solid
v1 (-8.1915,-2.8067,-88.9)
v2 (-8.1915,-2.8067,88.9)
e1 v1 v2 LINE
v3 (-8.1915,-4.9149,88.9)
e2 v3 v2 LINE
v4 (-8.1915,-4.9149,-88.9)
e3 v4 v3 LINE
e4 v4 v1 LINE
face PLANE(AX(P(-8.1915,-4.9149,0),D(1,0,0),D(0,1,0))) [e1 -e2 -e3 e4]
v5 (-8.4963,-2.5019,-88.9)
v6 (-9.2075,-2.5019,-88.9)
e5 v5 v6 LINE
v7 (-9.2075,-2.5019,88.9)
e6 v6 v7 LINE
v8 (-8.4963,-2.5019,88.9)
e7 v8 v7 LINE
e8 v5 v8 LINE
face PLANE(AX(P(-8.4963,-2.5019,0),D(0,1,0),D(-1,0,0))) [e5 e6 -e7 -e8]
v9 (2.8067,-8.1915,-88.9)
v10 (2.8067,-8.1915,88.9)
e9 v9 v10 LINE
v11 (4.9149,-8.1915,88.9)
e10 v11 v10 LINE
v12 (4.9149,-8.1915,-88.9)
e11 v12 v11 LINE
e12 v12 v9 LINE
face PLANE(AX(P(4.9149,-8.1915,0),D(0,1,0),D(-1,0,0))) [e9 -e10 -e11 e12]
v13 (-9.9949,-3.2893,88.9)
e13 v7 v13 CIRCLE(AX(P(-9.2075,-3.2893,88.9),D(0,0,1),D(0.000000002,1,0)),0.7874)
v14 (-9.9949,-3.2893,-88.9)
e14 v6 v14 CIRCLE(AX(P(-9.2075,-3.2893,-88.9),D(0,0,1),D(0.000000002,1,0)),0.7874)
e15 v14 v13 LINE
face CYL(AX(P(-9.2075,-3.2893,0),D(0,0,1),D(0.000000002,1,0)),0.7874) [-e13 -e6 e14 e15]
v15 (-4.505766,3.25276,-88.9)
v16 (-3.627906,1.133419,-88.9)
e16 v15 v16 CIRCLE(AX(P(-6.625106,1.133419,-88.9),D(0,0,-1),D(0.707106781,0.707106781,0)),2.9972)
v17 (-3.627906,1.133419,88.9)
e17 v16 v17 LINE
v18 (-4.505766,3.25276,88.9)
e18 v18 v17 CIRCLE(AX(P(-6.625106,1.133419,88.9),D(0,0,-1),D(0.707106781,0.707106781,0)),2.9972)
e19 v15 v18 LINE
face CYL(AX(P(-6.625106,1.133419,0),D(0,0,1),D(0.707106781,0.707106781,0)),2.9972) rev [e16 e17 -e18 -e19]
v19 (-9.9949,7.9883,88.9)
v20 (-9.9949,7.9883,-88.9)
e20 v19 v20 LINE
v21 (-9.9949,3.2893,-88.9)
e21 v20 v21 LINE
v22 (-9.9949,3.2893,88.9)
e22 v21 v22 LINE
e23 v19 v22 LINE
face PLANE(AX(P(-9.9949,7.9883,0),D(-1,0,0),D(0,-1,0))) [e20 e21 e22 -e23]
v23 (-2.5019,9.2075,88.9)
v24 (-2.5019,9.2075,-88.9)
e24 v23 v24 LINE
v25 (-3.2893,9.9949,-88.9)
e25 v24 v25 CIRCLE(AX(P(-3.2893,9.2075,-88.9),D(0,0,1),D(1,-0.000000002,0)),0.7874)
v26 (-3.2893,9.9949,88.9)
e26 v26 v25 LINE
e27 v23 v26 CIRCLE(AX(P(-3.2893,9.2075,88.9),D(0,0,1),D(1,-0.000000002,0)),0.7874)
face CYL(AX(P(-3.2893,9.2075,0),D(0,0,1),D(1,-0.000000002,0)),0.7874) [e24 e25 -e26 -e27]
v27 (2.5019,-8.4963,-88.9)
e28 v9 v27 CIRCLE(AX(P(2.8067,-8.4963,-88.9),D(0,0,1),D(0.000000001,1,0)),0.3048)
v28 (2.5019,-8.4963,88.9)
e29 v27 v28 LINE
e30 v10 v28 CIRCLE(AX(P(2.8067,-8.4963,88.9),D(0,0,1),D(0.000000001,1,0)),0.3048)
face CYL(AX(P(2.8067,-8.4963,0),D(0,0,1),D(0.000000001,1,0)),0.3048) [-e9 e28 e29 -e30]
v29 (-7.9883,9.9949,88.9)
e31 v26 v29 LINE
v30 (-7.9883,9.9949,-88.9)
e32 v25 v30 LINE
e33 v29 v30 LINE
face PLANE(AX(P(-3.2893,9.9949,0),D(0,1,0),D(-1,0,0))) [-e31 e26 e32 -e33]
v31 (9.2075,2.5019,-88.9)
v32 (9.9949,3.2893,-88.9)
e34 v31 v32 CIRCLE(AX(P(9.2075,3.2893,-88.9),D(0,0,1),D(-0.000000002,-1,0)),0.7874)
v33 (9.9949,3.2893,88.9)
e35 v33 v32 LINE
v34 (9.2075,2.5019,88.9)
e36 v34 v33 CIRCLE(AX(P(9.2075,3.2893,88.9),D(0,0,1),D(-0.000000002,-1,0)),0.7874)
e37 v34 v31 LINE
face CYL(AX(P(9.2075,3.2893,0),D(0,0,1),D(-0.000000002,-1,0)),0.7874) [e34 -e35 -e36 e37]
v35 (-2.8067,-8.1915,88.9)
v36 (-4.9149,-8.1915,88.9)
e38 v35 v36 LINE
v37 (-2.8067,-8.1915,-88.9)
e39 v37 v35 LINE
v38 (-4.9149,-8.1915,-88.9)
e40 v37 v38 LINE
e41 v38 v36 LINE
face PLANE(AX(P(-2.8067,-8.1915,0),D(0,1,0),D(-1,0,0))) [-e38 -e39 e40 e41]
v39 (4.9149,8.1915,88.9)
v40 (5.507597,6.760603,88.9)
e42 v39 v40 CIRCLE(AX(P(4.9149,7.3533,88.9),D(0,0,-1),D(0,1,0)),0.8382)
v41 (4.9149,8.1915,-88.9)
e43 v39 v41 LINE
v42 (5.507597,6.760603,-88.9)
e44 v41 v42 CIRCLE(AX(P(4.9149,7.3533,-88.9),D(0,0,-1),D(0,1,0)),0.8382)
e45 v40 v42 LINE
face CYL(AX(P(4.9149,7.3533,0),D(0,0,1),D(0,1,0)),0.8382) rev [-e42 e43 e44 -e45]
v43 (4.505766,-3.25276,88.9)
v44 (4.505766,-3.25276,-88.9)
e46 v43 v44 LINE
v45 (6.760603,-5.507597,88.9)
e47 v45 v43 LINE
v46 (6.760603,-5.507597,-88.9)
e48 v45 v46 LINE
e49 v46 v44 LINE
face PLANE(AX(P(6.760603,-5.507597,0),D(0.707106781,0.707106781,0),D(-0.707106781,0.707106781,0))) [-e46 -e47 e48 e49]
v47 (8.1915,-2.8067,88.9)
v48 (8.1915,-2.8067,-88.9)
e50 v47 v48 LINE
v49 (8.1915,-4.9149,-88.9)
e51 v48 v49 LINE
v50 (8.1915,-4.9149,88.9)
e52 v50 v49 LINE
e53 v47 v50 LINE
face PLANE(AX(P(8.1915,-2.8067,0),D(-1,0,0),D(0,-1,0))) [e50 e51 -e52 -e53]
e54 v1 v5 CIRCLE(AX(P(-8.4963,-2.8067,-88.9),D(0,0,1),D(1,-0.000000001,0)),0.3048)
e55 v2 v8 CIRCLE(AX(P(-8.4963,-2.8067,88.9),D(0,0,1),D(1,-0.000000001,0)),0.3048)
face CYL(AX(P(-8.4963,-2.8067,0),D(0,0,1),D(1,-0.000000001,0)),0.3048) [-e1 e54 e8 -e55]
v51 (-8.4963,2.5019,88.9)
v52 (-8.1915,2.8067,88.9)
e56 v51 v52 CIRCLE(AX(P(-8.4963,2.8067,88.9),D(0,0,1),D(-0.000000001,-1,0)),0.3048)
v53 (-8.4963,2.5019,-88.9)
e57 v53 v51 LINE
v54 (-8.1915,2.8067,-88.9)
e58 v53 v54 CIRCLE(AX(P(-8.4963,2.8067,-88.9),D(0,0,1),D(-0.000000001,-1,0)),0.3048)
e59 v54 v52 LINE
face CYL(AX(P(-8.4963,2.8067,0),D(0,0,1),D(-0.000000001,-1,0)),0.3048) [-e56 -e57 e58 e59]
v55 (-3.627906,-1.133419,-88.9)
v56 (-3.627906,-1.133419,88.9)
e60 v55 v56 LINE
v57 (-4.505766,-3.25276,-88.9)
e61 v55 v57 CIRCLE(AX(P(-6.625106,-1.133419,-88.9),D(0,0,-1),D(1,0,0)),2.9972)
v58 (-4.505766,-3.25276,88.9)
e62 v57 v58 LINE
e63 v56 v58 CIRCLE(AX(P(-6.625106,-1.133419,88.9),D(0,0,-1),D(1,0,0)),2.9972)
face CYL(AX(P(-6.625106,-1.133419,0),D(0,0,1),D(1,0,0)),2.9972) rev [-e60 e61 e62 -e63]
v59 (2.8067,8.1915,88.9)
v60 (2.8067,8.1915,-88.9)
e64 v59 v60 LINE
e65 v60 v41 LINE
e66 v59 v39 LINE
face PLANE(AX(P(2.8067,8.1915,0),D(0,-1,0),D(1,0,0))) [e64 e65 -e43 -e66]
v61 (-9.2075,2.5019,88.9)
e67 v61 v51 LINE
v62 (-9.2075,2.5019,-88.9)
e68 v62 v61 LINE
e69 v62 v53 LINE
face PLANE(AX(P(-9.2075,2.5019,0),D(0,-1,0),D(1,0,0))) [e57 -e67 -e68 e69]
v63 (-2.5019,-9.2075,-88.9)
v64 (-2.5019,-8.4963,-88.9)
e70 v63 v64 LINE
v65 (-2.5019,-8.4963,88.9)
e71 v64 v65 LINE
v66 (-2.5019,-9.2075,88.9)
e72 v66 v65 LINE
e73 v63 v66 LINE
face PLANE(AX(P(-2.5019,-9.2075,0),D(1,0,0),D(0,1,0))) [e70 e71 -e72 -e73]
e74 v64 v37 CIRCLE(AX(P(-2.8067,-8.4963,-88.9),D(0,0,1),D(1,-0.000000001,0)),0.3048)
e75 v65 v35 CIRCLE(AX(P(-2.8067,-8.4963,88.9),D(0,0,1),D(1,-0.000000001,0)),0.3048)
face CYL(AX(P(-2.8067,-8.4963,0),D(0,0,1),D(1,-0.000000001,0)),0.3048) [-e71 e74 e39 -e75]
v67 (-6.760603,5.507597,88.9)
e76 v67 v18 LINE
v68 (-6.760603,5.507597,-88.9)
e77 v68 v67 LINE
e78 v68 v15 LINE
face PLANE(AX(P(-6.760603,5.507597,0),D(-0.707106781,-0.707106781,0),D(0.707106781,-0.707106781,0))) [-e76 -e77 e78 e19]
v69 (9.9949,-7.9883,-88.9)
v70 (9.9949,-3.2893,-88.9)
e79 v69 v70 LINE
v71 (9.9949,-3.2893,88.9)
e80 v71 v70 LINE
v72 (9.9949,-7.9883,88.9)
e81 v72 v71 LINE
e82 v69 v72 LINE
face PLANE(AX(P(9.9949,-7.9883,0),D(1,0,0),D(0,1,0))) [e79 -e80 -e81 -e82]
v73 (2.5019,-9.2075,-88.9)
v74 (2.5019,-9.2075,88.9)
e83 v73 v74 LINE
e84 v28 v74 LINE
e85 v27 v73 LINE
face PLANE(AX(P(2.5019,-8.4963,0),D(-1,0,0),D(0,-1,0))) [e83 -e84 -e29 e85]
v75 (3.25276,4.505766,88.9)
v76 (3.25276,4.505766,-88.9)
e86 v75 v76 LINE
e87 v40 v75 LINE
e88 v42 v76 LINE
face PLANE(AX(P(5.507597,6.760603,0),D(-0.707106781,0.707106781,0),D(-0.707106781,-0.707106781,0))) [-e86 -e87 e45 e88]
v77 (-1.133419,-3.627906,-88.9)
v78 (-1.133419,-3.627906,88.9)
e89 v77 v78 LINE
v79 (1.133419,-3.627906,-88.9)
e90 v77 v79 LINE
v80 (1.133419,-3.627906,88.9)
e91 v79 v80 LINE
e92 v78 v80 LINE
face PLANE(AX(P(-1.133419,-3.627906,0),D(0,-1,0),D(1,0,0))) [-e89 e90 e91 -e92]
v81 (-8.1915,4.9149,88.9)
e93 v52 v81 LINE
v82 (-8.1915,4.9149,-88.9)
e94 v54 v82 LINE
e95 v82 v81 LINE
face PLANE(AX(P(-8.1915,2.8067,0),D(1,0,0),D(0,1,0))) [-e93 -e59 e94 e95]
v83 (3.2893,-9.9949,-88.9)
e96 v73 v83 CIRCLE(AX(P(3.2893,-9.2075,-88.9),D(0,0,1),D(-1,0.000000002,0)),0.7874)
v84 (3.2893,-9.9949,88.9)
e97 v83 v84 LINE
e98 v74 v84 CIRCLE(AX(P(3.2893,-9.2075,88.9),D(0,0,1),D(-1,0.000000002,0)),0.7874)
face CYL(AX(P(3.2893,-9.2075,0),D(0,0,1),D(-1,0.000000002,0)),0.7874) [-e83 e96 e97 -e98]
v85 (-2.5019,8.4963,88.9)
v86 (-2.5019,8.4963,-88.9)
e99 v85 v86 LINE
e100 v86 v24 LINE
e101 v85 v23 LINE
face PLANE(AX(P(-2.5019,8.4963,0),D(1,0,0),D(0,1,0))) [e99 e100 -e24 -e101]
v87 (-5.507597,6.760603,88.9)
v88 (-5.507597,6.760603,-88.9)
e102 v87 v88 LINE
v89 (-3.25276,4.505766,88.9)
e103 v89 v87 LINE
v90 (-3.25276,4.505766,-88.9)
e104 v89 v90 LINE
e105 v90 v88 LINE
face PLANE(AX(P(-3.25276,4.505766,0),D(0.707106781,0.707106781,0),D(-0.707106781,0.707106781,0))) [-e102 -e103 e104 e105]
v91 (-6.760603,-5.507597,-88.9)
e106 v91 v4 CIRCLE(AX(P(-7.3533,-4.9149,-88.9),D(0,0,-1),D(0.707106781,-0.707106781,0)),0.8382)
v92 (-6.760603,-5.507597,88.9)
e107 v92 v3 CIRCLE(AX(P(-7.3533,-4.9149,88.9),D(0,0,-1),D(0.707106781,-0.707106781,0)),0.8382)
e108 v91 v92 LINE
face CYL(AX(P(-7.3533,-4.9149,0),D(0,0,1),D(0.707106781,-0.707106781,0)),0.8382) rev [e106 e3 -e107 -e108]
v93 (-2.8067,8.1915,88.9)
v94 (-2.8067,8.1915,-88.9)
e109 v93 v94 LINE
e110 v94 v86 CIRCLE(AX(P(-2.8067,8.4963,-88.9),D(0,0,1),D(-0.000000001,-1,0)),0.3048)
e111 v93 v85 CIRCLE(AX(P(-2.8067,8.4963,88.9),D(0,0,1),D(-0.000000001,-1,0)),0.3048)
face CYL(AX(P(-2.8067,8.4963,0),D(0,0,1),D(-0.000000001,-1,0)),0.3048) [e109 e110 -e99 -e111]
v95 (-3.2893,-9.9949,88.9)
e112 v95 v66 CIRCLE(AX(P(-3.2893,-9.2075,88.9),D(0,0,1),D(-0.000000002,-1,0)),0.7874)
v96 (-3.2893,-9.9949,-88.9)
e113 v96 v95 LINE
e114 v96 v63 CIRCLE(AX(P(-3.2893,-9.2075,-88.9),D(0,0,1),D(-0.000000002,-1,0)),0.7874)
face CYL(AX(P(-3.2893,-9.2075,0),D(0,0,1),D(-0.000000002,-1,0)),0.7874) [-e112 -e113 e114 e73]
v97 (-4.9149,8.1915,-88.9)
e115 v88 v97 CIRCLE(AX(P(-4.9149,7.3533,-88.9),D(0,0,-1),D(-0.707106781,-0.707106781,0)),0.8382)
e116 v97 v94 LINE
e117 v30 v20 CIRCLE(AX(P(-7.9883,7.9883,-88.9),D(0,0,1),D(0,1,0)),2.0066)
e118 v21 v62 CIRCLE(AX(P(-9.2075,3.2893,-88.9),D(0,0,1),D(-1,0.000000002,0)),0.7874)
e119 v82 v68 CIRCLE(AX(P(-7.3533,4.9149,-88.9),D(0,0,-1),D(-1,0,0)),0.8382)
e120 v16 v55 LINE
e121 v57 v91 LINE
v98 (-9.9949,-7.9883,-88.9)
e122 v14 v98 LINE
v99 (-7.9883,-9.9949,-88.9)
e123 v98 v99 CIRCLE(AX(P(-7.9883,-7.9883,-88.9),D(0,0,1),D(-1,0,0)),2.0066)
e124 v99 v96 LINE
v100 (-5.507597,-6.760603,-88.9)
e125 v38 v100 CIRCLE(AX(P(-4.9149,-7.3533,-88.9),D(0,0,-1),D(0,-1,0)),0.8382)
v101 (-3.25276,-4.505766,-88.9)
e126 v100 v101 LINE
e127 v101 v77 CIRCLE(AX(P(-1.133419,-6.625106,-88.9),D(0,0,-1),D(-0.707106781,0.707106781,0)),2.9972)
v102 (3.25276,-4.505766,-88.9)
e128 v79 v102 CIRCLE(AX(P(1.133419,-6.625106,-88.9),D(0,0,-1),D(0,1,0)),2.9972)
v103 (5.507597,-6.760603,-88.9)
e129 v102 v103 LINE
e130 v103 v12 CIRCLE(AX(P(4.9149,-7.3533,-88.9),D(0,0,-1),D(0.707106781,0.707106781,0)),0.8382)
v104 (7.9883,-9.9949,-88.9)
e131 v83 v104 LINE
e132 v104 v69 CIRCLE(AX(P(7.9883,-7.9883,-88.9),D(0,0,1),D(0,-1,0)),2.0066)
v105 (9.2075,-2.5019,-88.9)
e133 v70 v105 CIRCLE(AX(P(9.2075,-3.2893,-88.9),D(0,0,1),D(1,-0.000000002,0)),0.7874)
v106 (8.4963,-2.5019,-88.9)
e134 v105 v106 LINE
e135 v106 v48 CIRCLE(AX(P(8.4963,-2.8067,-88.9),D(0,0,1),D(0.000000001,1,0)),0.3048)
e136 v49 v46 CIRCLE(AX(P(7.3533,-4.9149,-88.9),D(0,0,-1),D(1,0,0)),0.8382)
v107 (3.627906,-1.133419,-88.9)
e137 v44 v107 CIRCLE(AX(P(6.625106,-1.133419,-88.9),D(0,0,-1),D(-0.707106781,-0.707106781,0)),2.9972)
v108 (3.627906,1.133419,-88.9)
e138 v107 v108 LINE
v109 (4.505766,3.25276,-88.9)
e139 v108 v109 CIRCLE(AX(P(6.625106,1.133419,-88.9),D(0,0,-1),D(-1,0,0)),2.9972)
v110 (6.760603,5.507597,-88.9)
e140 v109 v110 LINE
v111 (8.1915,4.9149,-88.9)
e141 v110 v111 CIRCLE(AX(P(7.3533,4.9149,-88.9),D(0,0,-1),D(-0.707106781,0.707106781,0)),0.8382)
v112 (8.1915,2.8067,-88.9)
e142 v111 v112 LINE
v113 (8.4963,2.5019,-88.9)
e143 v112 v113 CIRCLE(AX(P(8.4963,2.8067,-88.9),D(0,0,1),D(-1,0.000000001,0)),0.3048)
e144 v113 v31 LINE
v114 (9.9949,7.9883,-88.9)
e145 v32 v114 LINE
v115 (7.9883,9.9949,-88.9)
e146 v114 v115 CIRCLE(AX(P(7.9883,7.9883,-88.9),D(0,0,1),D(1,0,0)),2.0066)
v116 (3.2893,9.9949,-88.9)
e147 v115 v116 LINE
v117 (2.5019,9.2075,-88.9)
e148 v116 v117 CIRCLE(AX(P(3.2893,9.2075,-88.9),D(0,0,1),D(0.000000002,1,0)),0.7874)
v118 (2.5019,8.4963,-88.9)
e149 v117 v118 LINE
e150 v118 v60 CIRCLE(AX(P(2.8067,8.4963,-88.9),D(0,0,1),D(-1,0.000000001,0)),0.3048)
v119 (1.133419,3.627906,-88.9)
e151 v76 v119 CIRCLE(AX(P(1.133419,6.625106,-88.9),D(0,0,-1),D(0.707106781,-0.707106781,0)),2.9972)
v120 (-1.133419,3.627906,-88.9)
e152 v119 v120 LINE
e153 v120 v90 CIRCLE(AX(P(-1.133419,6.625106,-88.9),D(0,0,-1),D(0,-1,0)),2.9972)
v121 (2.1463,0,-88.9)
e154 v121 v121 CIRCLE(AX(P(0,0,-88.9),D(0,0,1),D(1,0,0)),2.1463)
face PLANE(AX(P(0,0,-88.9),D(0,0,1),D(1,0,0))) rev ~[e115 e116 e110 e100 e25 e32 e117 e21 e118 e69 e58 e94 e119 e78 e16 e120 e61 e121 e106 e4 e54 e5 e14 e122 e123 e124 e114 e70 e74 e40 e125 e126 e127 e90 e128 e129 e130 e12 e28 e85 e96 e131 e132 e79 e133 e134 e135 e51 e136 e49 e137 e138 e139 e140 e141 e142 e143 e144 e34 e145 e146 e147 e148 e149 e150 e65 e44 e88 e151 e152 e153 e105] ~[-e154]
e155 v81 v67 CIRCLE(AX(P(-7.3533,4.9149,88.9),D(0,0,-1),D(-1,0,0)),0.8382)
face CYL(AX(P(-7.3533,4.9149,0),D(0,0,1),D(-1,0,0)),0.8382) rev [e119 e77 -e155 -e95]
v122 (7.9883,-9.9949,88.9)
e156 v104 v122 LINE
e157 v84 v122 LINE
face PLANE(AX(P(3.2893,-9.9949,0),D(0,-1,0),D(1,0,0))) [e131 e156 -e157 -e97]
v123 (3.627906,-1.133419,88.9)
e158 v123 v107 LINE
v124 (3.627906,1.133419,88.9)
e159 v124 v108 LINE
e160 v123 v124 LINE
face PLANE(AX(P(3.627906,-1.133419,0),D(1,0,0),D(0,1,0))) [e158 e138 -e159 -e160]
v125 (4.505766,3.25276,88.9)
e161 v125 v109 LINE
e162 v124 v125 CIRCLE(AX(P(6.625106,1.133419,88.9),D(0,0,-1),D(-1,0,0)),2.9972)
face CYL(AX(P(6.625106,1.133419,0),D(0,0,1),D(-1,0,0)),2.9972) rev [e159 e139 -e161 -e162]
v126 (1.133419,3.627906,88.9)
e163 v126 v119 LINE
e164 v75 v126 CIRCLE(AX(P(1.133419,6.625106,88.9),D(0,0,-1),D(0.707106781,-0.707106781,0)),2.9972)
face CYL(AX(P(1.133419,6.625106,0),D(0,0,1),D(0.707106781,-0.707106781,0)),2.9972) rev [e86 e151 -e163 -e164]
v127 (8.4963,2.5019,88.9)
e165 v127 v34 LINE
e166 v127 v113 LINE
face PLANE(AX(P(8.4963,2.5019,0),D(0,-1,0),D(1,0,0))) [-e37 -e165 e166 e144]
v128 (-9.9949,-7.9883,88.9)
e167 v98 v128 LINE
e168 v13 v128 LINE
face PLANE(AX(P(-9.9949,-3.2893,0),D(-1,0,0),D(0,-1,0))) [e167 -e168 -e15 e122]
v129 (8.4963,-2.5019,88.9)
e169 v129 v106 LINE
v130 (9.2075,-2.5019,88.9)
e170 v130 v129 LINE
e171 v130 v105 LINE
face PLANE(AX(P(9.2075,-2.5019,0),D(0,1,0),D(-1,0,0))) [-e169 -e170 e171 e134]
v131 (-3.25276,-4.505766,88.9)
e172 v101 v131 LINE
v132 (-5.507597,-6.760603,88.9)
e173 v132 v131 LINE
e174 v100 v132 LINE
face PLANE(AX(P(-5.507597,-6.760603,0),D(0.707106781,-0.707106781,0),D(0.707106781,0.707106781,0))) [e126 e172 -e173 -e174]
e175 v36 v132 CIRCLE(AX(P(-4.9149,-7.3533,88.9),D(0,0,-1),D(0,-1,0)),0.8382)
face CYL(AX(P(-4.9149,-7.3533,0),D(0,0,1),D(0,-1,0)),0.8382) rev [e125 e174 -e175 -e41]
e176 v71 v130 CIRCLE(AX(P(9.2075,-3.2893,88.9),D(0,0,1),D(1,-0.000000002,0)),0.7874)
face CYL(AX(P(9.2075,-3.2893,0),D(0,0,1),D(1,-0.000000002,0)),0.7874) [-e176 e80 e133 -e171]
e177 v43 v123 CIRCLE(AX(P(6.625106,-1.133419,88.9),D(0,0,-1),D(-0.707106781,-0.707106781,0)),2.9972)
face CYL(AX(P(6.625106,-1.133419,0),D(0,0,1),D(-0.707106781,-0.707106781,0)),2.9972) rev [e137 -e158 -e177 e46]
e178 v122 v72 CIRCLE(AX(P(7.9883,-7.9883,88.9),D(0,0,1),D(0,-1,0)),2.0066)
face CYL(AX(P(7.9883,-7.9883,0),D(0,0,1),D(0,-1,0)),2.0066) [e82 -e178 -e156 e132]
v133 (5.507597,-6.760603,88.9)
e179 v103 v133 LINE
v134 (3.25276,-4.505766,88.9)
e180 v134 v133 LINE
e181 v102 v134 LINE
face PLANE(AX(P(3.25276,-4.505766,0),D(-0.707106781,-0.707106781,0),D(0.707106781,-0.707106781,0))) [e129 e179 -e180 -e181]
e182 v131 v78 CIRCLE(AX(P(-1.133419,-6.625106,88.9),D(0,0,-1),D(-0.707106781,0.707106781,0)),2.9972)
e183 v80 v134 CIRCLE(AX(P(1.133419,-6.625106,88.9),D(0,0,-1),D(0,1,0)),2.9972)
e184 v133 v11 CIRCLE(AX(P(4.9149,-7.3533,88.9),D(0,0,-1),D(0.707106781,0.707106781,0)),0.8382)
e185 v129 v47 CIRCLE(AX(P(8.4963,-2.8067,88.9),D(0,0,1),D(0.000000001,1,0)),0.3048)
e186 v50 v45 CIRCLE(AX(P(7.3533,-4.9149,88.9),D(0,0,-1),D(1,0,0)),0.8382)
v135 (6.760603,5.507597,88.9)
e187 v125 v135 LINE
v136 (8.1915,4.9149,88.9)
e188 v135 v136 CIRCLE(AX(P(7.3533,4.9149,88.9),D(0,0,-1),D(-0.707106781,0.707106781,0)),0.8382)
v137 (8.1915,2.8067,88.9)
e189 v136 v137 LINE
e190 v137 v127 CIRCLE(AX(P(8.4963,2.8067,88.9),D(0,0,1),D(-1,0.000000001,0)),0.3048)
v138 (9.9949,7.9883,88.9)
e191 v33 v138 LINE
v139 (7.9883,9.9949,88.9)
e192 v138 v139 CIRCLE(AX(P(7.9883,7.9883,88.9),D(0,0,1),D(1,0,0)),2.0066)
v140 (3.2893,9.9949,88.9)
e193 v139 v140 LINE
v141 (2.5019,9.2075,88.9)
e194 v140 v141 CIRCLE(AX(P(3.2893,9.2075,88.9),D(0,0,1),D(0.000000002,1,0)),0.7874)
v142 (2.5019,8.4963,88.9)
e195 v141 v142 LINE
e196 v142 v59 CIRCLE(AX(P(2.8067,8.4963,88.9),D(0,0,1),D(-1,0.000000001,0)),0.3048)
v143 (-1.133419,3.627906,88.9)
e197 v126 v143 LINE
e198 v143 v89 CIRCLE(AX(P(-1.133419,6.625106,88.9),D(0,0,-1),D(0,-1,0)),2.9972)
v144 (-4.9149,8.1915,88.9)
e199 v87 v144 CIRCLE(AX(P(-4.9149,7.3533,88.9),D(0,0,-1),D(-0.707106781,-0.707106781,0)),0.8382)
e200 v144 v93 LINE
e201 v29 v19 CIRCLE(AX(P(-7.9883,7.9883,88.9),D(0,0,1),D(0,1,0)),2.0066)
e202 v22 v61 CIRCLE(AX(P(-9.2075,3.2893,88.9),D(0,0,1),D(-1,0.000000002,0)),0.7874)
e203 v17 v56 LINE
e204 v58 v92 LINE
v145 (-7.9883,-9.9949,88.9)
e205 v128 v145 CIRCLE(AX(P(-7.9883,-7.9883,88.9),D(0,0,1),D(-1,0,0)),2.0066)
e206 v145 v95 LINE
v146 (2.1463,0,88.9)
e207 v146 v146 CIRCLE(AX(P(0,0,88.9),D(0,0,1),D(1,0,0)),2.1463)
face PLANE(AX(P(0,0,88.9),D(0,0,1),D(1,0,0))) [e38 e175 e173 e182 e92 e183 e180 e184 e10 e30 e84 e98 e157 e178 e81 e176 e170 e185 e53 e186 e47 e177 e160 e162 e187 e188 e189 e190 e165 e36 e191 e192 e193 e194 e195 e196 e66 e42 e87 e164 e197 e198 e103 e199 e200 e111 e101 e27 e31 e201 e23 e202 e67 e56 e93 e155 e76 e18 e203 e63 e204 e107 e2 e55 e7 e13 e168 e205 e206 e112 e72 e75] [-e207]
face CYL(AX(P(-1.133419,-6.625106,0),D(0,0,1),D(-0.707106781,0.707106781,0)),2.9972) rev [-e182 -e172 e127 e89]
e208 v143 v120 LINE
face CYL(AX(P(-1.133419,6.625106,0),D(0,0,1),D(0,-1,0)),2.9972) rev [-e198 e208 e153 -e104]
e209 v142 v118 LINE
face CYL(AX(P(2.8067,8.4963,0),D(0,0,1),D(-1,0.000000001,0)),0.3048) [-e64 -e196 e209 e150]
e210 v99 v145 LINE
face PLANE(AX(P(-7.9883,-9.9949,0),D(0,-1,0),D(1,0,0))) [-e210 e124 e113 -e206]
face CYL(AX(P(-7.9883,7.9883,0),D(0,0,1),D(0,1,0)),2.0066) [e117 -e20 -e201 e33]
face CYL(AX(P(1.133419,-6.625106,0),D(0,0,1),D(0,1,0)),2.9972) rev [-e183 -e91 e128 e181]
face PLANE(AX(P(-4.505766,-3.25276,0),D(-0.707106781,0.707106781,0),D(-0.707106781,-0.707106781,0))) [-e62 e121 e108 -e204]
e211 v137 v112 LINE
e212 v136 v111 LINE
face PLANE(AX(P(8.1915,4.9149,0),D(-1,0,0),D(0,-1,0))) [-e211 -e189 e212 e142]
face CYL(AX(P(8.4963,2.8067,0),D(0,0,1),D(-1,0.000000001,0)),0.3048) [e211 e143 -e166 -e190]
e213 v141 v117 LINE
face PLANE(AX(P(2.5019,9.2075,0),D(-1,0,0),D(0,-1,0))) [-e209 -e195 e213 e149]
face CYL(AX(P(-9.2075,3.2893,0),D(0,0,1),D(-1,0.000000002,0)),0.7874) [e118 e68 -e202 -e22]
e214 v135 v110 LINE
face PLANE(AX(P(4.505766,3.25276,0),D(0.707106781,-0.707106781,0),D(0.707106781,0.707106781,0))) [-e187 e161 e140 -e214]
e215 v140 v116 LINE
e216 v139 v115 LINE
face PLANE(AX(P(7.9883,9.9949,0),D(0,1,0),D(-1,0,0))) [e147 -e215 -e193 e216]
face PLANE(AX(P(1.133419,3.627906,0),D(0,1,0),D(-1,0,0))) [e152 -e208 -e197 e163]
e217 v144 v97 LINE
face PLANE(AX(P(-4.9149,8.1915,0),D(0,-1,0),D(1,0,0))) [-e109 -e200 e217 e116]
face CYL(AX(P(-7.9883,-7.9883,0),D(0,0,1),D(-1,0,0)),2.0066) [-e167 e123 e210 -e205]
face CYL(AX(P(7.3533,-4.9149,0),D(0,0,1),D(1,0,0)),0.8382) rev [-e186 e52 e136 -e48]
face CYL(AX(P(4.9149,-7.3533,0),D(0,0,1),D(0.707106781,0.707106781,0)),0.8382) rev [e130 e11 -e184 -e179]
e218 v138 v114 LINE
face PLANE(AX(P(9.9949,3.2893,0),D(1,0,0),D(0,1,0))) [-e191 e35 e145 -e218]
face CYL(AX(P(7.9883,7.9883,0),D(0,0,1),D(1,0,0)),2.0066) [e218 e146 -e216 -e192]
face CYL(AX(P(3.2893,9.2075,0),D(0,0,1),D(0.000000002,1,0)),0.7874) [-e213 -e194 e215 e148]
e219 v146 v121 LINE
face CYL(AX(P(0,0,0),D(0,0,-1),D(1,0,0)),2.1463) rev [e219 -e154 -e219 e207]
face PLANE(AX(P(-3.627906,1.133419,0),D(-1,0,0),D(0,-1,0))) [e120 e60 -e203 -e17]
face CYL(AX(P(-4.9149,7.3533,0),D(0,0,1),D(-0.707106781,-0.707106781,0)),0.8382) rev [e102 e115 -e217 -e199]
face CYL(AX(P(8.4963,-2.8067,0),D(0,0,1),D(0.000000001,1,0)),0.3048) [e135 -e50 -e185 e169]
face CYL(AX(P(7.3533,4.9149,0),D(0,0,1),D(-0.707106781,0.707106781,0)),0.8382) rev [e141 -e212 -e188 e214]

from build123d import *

# Parameters (mm, degrees)
SKETCH1_R           = 2.1463
BOSS_EXTRUDE1_DEPTH = 88.9


with BuildPart() as part:
    # Sketch1 → Boss-Extrude1 (new, symmetric)
    with BuildSketch(Plane.XY):
        with BuildLine():
            Line((-9.9949, 7.9883), (-9.9949, 3.2893))
            ThreePointArc((-9.9949, 3.2893), (-9.76427588, 2.73252412), (-9.2075, 2.5019))
            Line((-9.2075, 2.5019), (-8.4963, 2.5019))
            ThreePointArc((-8.4963, 2.5019), (-8.280773853, 2.591173853), (-8.1915, 2.8067))
            Line((-8.1915, 2.8067), (-8.1915, 4.9149))
            ThreePointArc((-8.1915, 4.9149), (-7.674065253, 5.689295824), (-6.760603096, 5.507596904))
            Line((-6.760603096, 5.507596904), (-4.505765747, 3.252759555))
            ThreePointArc((-4.505765747, 3.252759555), (-3.856054457, 2.280397894), (-3.627906192, 1.133419111))
            Line((-3.627906192, 1.133419111), (-3.627906192, -1.133419111))
            ThreePointArc((-3.627906192, -1.133419111), (-3.856054457, -2.280397894), (-4.505765747, -3.252759555))
            Line((-4.505765747, -3.252759555), (-6.760603096, -5.507596904))
            ThreePointArc((-6.760603096, -5.507596904), (-7.674065253, -5.689295824), (-8.1915, -4.9149))
            Line((-8.1915, -4.9149), (-8.1915, -2.8067))
            ThreePointArc((-8.1915, -2.8067), (-8.280773853, -2.591173853), (-8.4963, -2.5019))
            Line((-8.4963, -2.5019), (-9.2075, -2.5019))
            ThreePointArc((-9.2075, -2.5019), (-9.76427588, -2.73252412), (-9.9949, -3.2893))
            Line((-9.9949, -3.2893), (-9.9949, -7.9883))
            ThreePointArc((-9.9949, -7.9883), (-9.407180467, -9.407180467), (-7.9883, -9.9949))
            Line((-7.9883, -9.9949), (-3.2893, -9.9949))
            ThreePointArc((-3.2893, -9.9949), (-2.73252412, -9.76427588), (-2.5019, -9.2075))
            Line((-2.5019, -9.2075), (-2.5019, -8.4963))
            ThreePointArc((-2.5019, -8.4963), (-2.591173853, -8.280773853), (-2.8067, -8.1915))
            Line((-2.8067, -8.1915), (-4.9149, -8.1915))
            ThreePointArc((-4.9149, -8.1915), (-5.689295824, -7.674065253), (-5.507596904, -6.760603096))
            Line((-5.507596904, -6.760603096), (-3.252759555, -4.505765747))
            ThreePointArc((-3.252759555, -4.505765747), (-2.280397894, -3.856054457), (-1.133419111, -3.627906192))
            Line((-1.133419111, -3.627906192), (1.133419111, -3.627906192))
            ThreePointArc((1.133419111, -3.627906192), (2.280397894, -3.856054457), (3.252759555, -4.505765747))
            Line((3.252759555, -4.505765747), (5.507596904, -6.760603096))
            ThreePointArc((5.507596904, -6.760603096), (5.689295824, -7.674065253), (4.9149, -8.1915))
            Line((4.9149, -8.1915), (2.8067, -8.1915))
            ThreePointArc((2.8067, -8.1915), (2.591173853, -8.280773853), (2.5019, -8.4963))
            Line((2.5019, -8.4963), (2.5019, -9.2075))
            ThreePointArc((2.5019, -9.2075), (2.73252412, -9.76427588), (3.2893, -9.9949))
            Line((3.2893, -9.9949), (7.9883, -9.9949))
            ThreePointArc((7.9883, -9.9949), (9.407180467, -9.407180467), (9.9949, -7.9883))
            Line((9.9949, -7.9883), (9.9949, -3.2893))
            ThreePointArc((9.9949, -3.2893), (9.76427588, -2.73252412), (9.2075, -2.5019))
            Line((9.2075, -2.5019), (8.4963, -2.5019))
            ThreePointArc((8.4963, -2.5019), (8.280773853, -2.591173853), (8.1915, -2.8067))
            Line((8.1915, -2.8067), (8.1915, -4.9149))
            ThreePointArc((8.1915, -4.9149), (7.674065253, -5.689295824), (6.760603096, -5.507596904))
            Line((6.760603096, -5.507596904), (4.505765747, -3.252759555))
            ThreePointArc((4.505765747, -3.252759555), (3.856054457, -2.280397894), (3.627906192, -1.133419111))
            Line((3.627906192, -1.133419111), (3.627906192, 1.133419111))
            ThreePointArc((3.627906192, 1.133419111), (3.856054457, 2.280397894), (4.505765747, 3.252759555))
            Line((4.505765747, 3.252759555), (6.760603096, 5.507596904))
            ThreePointArc((6.760603096, 5.507596904), (7.674065253, 5.689295824), (8.1915, 4.9149))
            Line((8.1915, 4.9149), (8.1915, 2.8067))
            ThreePointArc((8.1915, 2.8067), (8.280773853, 2.591173853), (8.4963, 2.5019))
            Line((8.4963, 2.5019), (9.2075, 2.5019))
            ThreePointArc((9.2075, 2.5019), (9.76427588, 2.73252412), (9.9949, 3.2893))
            Line((9.9949, 3.2893), (9.9949, 7.9883))
            ThreePointArc((9.9949, 7.9883), (9.407180467, 9.407180467), (7.9883, 9.9949))
            Line((7.9883, 9.9949), (3.2893, 9.9949))
            ThreePointArc((3.2893, 9.9949), (2.73252412, 9.76427588), (2.5019, 9.2075))
            Line((2.5019, 9.2075), (2.5019, 8.4963))
            ThreePointArc((2.5019, 8.4963), (2.591173853, 8.280773853), (2.8067, 8.1915))
            Line((2.8067, 8.1915), (4.9149, 8.1915))
            ThreePointArc((4.9149, 8.1915), (5.689295824, 7.674065253), (5.507596904, 6.760603096))
            Line((5.507596904, 6.760603096), (3.252759555, 4.505765747))
            ThreePointArc((3.252759555, 4.505765747), (2.280397894, 3.856054457), (1.133419111, 3.627906192))
            Line((1.133419111, 3.627906192), (-1.133419111, 3.627906192))
            ThreePointArc((-1.133419111, 3.627906192), (-2.280397894, 3.856054457), (-3.252759555, 4.505765747))
            Line((-3.252759555, 4.505765747), (-5.507596904, 6.760603096))
            ThreePointArc((-5.507596904, 6.760603096), (-5.689295824, 7.674065253), (-4.9149, 8.1915))
            Line((-4.9149, 8.1915), (-2.8067, 8.1915))
            ThreePointArc((-2.8067, 8.1915), (-2.591173853, 8.280773853), (-2.5019, 8.4963))
            Line((-2.5019, 8.4963), (-2.5019, 9.2075))
            ThreePointArc((-2.5019, 9.2075), (-2.73252412, 9.76427588), (-3.2893, 9.9949))
            Line((-3.2893, 9.9949), (-7.9883, 9.9949))
            ThreePointArc((-7.9883, 9.9949), (-9.407180467, 9.407180467), (-9.9949, 7.9883))
        make_face()
        Circle(SKETCH1_R, mode=Mode.SUBTRACT)
    extrude(amount=BOSS_EXTRUDE1_DEPTH, both=True)


solid = part.part
